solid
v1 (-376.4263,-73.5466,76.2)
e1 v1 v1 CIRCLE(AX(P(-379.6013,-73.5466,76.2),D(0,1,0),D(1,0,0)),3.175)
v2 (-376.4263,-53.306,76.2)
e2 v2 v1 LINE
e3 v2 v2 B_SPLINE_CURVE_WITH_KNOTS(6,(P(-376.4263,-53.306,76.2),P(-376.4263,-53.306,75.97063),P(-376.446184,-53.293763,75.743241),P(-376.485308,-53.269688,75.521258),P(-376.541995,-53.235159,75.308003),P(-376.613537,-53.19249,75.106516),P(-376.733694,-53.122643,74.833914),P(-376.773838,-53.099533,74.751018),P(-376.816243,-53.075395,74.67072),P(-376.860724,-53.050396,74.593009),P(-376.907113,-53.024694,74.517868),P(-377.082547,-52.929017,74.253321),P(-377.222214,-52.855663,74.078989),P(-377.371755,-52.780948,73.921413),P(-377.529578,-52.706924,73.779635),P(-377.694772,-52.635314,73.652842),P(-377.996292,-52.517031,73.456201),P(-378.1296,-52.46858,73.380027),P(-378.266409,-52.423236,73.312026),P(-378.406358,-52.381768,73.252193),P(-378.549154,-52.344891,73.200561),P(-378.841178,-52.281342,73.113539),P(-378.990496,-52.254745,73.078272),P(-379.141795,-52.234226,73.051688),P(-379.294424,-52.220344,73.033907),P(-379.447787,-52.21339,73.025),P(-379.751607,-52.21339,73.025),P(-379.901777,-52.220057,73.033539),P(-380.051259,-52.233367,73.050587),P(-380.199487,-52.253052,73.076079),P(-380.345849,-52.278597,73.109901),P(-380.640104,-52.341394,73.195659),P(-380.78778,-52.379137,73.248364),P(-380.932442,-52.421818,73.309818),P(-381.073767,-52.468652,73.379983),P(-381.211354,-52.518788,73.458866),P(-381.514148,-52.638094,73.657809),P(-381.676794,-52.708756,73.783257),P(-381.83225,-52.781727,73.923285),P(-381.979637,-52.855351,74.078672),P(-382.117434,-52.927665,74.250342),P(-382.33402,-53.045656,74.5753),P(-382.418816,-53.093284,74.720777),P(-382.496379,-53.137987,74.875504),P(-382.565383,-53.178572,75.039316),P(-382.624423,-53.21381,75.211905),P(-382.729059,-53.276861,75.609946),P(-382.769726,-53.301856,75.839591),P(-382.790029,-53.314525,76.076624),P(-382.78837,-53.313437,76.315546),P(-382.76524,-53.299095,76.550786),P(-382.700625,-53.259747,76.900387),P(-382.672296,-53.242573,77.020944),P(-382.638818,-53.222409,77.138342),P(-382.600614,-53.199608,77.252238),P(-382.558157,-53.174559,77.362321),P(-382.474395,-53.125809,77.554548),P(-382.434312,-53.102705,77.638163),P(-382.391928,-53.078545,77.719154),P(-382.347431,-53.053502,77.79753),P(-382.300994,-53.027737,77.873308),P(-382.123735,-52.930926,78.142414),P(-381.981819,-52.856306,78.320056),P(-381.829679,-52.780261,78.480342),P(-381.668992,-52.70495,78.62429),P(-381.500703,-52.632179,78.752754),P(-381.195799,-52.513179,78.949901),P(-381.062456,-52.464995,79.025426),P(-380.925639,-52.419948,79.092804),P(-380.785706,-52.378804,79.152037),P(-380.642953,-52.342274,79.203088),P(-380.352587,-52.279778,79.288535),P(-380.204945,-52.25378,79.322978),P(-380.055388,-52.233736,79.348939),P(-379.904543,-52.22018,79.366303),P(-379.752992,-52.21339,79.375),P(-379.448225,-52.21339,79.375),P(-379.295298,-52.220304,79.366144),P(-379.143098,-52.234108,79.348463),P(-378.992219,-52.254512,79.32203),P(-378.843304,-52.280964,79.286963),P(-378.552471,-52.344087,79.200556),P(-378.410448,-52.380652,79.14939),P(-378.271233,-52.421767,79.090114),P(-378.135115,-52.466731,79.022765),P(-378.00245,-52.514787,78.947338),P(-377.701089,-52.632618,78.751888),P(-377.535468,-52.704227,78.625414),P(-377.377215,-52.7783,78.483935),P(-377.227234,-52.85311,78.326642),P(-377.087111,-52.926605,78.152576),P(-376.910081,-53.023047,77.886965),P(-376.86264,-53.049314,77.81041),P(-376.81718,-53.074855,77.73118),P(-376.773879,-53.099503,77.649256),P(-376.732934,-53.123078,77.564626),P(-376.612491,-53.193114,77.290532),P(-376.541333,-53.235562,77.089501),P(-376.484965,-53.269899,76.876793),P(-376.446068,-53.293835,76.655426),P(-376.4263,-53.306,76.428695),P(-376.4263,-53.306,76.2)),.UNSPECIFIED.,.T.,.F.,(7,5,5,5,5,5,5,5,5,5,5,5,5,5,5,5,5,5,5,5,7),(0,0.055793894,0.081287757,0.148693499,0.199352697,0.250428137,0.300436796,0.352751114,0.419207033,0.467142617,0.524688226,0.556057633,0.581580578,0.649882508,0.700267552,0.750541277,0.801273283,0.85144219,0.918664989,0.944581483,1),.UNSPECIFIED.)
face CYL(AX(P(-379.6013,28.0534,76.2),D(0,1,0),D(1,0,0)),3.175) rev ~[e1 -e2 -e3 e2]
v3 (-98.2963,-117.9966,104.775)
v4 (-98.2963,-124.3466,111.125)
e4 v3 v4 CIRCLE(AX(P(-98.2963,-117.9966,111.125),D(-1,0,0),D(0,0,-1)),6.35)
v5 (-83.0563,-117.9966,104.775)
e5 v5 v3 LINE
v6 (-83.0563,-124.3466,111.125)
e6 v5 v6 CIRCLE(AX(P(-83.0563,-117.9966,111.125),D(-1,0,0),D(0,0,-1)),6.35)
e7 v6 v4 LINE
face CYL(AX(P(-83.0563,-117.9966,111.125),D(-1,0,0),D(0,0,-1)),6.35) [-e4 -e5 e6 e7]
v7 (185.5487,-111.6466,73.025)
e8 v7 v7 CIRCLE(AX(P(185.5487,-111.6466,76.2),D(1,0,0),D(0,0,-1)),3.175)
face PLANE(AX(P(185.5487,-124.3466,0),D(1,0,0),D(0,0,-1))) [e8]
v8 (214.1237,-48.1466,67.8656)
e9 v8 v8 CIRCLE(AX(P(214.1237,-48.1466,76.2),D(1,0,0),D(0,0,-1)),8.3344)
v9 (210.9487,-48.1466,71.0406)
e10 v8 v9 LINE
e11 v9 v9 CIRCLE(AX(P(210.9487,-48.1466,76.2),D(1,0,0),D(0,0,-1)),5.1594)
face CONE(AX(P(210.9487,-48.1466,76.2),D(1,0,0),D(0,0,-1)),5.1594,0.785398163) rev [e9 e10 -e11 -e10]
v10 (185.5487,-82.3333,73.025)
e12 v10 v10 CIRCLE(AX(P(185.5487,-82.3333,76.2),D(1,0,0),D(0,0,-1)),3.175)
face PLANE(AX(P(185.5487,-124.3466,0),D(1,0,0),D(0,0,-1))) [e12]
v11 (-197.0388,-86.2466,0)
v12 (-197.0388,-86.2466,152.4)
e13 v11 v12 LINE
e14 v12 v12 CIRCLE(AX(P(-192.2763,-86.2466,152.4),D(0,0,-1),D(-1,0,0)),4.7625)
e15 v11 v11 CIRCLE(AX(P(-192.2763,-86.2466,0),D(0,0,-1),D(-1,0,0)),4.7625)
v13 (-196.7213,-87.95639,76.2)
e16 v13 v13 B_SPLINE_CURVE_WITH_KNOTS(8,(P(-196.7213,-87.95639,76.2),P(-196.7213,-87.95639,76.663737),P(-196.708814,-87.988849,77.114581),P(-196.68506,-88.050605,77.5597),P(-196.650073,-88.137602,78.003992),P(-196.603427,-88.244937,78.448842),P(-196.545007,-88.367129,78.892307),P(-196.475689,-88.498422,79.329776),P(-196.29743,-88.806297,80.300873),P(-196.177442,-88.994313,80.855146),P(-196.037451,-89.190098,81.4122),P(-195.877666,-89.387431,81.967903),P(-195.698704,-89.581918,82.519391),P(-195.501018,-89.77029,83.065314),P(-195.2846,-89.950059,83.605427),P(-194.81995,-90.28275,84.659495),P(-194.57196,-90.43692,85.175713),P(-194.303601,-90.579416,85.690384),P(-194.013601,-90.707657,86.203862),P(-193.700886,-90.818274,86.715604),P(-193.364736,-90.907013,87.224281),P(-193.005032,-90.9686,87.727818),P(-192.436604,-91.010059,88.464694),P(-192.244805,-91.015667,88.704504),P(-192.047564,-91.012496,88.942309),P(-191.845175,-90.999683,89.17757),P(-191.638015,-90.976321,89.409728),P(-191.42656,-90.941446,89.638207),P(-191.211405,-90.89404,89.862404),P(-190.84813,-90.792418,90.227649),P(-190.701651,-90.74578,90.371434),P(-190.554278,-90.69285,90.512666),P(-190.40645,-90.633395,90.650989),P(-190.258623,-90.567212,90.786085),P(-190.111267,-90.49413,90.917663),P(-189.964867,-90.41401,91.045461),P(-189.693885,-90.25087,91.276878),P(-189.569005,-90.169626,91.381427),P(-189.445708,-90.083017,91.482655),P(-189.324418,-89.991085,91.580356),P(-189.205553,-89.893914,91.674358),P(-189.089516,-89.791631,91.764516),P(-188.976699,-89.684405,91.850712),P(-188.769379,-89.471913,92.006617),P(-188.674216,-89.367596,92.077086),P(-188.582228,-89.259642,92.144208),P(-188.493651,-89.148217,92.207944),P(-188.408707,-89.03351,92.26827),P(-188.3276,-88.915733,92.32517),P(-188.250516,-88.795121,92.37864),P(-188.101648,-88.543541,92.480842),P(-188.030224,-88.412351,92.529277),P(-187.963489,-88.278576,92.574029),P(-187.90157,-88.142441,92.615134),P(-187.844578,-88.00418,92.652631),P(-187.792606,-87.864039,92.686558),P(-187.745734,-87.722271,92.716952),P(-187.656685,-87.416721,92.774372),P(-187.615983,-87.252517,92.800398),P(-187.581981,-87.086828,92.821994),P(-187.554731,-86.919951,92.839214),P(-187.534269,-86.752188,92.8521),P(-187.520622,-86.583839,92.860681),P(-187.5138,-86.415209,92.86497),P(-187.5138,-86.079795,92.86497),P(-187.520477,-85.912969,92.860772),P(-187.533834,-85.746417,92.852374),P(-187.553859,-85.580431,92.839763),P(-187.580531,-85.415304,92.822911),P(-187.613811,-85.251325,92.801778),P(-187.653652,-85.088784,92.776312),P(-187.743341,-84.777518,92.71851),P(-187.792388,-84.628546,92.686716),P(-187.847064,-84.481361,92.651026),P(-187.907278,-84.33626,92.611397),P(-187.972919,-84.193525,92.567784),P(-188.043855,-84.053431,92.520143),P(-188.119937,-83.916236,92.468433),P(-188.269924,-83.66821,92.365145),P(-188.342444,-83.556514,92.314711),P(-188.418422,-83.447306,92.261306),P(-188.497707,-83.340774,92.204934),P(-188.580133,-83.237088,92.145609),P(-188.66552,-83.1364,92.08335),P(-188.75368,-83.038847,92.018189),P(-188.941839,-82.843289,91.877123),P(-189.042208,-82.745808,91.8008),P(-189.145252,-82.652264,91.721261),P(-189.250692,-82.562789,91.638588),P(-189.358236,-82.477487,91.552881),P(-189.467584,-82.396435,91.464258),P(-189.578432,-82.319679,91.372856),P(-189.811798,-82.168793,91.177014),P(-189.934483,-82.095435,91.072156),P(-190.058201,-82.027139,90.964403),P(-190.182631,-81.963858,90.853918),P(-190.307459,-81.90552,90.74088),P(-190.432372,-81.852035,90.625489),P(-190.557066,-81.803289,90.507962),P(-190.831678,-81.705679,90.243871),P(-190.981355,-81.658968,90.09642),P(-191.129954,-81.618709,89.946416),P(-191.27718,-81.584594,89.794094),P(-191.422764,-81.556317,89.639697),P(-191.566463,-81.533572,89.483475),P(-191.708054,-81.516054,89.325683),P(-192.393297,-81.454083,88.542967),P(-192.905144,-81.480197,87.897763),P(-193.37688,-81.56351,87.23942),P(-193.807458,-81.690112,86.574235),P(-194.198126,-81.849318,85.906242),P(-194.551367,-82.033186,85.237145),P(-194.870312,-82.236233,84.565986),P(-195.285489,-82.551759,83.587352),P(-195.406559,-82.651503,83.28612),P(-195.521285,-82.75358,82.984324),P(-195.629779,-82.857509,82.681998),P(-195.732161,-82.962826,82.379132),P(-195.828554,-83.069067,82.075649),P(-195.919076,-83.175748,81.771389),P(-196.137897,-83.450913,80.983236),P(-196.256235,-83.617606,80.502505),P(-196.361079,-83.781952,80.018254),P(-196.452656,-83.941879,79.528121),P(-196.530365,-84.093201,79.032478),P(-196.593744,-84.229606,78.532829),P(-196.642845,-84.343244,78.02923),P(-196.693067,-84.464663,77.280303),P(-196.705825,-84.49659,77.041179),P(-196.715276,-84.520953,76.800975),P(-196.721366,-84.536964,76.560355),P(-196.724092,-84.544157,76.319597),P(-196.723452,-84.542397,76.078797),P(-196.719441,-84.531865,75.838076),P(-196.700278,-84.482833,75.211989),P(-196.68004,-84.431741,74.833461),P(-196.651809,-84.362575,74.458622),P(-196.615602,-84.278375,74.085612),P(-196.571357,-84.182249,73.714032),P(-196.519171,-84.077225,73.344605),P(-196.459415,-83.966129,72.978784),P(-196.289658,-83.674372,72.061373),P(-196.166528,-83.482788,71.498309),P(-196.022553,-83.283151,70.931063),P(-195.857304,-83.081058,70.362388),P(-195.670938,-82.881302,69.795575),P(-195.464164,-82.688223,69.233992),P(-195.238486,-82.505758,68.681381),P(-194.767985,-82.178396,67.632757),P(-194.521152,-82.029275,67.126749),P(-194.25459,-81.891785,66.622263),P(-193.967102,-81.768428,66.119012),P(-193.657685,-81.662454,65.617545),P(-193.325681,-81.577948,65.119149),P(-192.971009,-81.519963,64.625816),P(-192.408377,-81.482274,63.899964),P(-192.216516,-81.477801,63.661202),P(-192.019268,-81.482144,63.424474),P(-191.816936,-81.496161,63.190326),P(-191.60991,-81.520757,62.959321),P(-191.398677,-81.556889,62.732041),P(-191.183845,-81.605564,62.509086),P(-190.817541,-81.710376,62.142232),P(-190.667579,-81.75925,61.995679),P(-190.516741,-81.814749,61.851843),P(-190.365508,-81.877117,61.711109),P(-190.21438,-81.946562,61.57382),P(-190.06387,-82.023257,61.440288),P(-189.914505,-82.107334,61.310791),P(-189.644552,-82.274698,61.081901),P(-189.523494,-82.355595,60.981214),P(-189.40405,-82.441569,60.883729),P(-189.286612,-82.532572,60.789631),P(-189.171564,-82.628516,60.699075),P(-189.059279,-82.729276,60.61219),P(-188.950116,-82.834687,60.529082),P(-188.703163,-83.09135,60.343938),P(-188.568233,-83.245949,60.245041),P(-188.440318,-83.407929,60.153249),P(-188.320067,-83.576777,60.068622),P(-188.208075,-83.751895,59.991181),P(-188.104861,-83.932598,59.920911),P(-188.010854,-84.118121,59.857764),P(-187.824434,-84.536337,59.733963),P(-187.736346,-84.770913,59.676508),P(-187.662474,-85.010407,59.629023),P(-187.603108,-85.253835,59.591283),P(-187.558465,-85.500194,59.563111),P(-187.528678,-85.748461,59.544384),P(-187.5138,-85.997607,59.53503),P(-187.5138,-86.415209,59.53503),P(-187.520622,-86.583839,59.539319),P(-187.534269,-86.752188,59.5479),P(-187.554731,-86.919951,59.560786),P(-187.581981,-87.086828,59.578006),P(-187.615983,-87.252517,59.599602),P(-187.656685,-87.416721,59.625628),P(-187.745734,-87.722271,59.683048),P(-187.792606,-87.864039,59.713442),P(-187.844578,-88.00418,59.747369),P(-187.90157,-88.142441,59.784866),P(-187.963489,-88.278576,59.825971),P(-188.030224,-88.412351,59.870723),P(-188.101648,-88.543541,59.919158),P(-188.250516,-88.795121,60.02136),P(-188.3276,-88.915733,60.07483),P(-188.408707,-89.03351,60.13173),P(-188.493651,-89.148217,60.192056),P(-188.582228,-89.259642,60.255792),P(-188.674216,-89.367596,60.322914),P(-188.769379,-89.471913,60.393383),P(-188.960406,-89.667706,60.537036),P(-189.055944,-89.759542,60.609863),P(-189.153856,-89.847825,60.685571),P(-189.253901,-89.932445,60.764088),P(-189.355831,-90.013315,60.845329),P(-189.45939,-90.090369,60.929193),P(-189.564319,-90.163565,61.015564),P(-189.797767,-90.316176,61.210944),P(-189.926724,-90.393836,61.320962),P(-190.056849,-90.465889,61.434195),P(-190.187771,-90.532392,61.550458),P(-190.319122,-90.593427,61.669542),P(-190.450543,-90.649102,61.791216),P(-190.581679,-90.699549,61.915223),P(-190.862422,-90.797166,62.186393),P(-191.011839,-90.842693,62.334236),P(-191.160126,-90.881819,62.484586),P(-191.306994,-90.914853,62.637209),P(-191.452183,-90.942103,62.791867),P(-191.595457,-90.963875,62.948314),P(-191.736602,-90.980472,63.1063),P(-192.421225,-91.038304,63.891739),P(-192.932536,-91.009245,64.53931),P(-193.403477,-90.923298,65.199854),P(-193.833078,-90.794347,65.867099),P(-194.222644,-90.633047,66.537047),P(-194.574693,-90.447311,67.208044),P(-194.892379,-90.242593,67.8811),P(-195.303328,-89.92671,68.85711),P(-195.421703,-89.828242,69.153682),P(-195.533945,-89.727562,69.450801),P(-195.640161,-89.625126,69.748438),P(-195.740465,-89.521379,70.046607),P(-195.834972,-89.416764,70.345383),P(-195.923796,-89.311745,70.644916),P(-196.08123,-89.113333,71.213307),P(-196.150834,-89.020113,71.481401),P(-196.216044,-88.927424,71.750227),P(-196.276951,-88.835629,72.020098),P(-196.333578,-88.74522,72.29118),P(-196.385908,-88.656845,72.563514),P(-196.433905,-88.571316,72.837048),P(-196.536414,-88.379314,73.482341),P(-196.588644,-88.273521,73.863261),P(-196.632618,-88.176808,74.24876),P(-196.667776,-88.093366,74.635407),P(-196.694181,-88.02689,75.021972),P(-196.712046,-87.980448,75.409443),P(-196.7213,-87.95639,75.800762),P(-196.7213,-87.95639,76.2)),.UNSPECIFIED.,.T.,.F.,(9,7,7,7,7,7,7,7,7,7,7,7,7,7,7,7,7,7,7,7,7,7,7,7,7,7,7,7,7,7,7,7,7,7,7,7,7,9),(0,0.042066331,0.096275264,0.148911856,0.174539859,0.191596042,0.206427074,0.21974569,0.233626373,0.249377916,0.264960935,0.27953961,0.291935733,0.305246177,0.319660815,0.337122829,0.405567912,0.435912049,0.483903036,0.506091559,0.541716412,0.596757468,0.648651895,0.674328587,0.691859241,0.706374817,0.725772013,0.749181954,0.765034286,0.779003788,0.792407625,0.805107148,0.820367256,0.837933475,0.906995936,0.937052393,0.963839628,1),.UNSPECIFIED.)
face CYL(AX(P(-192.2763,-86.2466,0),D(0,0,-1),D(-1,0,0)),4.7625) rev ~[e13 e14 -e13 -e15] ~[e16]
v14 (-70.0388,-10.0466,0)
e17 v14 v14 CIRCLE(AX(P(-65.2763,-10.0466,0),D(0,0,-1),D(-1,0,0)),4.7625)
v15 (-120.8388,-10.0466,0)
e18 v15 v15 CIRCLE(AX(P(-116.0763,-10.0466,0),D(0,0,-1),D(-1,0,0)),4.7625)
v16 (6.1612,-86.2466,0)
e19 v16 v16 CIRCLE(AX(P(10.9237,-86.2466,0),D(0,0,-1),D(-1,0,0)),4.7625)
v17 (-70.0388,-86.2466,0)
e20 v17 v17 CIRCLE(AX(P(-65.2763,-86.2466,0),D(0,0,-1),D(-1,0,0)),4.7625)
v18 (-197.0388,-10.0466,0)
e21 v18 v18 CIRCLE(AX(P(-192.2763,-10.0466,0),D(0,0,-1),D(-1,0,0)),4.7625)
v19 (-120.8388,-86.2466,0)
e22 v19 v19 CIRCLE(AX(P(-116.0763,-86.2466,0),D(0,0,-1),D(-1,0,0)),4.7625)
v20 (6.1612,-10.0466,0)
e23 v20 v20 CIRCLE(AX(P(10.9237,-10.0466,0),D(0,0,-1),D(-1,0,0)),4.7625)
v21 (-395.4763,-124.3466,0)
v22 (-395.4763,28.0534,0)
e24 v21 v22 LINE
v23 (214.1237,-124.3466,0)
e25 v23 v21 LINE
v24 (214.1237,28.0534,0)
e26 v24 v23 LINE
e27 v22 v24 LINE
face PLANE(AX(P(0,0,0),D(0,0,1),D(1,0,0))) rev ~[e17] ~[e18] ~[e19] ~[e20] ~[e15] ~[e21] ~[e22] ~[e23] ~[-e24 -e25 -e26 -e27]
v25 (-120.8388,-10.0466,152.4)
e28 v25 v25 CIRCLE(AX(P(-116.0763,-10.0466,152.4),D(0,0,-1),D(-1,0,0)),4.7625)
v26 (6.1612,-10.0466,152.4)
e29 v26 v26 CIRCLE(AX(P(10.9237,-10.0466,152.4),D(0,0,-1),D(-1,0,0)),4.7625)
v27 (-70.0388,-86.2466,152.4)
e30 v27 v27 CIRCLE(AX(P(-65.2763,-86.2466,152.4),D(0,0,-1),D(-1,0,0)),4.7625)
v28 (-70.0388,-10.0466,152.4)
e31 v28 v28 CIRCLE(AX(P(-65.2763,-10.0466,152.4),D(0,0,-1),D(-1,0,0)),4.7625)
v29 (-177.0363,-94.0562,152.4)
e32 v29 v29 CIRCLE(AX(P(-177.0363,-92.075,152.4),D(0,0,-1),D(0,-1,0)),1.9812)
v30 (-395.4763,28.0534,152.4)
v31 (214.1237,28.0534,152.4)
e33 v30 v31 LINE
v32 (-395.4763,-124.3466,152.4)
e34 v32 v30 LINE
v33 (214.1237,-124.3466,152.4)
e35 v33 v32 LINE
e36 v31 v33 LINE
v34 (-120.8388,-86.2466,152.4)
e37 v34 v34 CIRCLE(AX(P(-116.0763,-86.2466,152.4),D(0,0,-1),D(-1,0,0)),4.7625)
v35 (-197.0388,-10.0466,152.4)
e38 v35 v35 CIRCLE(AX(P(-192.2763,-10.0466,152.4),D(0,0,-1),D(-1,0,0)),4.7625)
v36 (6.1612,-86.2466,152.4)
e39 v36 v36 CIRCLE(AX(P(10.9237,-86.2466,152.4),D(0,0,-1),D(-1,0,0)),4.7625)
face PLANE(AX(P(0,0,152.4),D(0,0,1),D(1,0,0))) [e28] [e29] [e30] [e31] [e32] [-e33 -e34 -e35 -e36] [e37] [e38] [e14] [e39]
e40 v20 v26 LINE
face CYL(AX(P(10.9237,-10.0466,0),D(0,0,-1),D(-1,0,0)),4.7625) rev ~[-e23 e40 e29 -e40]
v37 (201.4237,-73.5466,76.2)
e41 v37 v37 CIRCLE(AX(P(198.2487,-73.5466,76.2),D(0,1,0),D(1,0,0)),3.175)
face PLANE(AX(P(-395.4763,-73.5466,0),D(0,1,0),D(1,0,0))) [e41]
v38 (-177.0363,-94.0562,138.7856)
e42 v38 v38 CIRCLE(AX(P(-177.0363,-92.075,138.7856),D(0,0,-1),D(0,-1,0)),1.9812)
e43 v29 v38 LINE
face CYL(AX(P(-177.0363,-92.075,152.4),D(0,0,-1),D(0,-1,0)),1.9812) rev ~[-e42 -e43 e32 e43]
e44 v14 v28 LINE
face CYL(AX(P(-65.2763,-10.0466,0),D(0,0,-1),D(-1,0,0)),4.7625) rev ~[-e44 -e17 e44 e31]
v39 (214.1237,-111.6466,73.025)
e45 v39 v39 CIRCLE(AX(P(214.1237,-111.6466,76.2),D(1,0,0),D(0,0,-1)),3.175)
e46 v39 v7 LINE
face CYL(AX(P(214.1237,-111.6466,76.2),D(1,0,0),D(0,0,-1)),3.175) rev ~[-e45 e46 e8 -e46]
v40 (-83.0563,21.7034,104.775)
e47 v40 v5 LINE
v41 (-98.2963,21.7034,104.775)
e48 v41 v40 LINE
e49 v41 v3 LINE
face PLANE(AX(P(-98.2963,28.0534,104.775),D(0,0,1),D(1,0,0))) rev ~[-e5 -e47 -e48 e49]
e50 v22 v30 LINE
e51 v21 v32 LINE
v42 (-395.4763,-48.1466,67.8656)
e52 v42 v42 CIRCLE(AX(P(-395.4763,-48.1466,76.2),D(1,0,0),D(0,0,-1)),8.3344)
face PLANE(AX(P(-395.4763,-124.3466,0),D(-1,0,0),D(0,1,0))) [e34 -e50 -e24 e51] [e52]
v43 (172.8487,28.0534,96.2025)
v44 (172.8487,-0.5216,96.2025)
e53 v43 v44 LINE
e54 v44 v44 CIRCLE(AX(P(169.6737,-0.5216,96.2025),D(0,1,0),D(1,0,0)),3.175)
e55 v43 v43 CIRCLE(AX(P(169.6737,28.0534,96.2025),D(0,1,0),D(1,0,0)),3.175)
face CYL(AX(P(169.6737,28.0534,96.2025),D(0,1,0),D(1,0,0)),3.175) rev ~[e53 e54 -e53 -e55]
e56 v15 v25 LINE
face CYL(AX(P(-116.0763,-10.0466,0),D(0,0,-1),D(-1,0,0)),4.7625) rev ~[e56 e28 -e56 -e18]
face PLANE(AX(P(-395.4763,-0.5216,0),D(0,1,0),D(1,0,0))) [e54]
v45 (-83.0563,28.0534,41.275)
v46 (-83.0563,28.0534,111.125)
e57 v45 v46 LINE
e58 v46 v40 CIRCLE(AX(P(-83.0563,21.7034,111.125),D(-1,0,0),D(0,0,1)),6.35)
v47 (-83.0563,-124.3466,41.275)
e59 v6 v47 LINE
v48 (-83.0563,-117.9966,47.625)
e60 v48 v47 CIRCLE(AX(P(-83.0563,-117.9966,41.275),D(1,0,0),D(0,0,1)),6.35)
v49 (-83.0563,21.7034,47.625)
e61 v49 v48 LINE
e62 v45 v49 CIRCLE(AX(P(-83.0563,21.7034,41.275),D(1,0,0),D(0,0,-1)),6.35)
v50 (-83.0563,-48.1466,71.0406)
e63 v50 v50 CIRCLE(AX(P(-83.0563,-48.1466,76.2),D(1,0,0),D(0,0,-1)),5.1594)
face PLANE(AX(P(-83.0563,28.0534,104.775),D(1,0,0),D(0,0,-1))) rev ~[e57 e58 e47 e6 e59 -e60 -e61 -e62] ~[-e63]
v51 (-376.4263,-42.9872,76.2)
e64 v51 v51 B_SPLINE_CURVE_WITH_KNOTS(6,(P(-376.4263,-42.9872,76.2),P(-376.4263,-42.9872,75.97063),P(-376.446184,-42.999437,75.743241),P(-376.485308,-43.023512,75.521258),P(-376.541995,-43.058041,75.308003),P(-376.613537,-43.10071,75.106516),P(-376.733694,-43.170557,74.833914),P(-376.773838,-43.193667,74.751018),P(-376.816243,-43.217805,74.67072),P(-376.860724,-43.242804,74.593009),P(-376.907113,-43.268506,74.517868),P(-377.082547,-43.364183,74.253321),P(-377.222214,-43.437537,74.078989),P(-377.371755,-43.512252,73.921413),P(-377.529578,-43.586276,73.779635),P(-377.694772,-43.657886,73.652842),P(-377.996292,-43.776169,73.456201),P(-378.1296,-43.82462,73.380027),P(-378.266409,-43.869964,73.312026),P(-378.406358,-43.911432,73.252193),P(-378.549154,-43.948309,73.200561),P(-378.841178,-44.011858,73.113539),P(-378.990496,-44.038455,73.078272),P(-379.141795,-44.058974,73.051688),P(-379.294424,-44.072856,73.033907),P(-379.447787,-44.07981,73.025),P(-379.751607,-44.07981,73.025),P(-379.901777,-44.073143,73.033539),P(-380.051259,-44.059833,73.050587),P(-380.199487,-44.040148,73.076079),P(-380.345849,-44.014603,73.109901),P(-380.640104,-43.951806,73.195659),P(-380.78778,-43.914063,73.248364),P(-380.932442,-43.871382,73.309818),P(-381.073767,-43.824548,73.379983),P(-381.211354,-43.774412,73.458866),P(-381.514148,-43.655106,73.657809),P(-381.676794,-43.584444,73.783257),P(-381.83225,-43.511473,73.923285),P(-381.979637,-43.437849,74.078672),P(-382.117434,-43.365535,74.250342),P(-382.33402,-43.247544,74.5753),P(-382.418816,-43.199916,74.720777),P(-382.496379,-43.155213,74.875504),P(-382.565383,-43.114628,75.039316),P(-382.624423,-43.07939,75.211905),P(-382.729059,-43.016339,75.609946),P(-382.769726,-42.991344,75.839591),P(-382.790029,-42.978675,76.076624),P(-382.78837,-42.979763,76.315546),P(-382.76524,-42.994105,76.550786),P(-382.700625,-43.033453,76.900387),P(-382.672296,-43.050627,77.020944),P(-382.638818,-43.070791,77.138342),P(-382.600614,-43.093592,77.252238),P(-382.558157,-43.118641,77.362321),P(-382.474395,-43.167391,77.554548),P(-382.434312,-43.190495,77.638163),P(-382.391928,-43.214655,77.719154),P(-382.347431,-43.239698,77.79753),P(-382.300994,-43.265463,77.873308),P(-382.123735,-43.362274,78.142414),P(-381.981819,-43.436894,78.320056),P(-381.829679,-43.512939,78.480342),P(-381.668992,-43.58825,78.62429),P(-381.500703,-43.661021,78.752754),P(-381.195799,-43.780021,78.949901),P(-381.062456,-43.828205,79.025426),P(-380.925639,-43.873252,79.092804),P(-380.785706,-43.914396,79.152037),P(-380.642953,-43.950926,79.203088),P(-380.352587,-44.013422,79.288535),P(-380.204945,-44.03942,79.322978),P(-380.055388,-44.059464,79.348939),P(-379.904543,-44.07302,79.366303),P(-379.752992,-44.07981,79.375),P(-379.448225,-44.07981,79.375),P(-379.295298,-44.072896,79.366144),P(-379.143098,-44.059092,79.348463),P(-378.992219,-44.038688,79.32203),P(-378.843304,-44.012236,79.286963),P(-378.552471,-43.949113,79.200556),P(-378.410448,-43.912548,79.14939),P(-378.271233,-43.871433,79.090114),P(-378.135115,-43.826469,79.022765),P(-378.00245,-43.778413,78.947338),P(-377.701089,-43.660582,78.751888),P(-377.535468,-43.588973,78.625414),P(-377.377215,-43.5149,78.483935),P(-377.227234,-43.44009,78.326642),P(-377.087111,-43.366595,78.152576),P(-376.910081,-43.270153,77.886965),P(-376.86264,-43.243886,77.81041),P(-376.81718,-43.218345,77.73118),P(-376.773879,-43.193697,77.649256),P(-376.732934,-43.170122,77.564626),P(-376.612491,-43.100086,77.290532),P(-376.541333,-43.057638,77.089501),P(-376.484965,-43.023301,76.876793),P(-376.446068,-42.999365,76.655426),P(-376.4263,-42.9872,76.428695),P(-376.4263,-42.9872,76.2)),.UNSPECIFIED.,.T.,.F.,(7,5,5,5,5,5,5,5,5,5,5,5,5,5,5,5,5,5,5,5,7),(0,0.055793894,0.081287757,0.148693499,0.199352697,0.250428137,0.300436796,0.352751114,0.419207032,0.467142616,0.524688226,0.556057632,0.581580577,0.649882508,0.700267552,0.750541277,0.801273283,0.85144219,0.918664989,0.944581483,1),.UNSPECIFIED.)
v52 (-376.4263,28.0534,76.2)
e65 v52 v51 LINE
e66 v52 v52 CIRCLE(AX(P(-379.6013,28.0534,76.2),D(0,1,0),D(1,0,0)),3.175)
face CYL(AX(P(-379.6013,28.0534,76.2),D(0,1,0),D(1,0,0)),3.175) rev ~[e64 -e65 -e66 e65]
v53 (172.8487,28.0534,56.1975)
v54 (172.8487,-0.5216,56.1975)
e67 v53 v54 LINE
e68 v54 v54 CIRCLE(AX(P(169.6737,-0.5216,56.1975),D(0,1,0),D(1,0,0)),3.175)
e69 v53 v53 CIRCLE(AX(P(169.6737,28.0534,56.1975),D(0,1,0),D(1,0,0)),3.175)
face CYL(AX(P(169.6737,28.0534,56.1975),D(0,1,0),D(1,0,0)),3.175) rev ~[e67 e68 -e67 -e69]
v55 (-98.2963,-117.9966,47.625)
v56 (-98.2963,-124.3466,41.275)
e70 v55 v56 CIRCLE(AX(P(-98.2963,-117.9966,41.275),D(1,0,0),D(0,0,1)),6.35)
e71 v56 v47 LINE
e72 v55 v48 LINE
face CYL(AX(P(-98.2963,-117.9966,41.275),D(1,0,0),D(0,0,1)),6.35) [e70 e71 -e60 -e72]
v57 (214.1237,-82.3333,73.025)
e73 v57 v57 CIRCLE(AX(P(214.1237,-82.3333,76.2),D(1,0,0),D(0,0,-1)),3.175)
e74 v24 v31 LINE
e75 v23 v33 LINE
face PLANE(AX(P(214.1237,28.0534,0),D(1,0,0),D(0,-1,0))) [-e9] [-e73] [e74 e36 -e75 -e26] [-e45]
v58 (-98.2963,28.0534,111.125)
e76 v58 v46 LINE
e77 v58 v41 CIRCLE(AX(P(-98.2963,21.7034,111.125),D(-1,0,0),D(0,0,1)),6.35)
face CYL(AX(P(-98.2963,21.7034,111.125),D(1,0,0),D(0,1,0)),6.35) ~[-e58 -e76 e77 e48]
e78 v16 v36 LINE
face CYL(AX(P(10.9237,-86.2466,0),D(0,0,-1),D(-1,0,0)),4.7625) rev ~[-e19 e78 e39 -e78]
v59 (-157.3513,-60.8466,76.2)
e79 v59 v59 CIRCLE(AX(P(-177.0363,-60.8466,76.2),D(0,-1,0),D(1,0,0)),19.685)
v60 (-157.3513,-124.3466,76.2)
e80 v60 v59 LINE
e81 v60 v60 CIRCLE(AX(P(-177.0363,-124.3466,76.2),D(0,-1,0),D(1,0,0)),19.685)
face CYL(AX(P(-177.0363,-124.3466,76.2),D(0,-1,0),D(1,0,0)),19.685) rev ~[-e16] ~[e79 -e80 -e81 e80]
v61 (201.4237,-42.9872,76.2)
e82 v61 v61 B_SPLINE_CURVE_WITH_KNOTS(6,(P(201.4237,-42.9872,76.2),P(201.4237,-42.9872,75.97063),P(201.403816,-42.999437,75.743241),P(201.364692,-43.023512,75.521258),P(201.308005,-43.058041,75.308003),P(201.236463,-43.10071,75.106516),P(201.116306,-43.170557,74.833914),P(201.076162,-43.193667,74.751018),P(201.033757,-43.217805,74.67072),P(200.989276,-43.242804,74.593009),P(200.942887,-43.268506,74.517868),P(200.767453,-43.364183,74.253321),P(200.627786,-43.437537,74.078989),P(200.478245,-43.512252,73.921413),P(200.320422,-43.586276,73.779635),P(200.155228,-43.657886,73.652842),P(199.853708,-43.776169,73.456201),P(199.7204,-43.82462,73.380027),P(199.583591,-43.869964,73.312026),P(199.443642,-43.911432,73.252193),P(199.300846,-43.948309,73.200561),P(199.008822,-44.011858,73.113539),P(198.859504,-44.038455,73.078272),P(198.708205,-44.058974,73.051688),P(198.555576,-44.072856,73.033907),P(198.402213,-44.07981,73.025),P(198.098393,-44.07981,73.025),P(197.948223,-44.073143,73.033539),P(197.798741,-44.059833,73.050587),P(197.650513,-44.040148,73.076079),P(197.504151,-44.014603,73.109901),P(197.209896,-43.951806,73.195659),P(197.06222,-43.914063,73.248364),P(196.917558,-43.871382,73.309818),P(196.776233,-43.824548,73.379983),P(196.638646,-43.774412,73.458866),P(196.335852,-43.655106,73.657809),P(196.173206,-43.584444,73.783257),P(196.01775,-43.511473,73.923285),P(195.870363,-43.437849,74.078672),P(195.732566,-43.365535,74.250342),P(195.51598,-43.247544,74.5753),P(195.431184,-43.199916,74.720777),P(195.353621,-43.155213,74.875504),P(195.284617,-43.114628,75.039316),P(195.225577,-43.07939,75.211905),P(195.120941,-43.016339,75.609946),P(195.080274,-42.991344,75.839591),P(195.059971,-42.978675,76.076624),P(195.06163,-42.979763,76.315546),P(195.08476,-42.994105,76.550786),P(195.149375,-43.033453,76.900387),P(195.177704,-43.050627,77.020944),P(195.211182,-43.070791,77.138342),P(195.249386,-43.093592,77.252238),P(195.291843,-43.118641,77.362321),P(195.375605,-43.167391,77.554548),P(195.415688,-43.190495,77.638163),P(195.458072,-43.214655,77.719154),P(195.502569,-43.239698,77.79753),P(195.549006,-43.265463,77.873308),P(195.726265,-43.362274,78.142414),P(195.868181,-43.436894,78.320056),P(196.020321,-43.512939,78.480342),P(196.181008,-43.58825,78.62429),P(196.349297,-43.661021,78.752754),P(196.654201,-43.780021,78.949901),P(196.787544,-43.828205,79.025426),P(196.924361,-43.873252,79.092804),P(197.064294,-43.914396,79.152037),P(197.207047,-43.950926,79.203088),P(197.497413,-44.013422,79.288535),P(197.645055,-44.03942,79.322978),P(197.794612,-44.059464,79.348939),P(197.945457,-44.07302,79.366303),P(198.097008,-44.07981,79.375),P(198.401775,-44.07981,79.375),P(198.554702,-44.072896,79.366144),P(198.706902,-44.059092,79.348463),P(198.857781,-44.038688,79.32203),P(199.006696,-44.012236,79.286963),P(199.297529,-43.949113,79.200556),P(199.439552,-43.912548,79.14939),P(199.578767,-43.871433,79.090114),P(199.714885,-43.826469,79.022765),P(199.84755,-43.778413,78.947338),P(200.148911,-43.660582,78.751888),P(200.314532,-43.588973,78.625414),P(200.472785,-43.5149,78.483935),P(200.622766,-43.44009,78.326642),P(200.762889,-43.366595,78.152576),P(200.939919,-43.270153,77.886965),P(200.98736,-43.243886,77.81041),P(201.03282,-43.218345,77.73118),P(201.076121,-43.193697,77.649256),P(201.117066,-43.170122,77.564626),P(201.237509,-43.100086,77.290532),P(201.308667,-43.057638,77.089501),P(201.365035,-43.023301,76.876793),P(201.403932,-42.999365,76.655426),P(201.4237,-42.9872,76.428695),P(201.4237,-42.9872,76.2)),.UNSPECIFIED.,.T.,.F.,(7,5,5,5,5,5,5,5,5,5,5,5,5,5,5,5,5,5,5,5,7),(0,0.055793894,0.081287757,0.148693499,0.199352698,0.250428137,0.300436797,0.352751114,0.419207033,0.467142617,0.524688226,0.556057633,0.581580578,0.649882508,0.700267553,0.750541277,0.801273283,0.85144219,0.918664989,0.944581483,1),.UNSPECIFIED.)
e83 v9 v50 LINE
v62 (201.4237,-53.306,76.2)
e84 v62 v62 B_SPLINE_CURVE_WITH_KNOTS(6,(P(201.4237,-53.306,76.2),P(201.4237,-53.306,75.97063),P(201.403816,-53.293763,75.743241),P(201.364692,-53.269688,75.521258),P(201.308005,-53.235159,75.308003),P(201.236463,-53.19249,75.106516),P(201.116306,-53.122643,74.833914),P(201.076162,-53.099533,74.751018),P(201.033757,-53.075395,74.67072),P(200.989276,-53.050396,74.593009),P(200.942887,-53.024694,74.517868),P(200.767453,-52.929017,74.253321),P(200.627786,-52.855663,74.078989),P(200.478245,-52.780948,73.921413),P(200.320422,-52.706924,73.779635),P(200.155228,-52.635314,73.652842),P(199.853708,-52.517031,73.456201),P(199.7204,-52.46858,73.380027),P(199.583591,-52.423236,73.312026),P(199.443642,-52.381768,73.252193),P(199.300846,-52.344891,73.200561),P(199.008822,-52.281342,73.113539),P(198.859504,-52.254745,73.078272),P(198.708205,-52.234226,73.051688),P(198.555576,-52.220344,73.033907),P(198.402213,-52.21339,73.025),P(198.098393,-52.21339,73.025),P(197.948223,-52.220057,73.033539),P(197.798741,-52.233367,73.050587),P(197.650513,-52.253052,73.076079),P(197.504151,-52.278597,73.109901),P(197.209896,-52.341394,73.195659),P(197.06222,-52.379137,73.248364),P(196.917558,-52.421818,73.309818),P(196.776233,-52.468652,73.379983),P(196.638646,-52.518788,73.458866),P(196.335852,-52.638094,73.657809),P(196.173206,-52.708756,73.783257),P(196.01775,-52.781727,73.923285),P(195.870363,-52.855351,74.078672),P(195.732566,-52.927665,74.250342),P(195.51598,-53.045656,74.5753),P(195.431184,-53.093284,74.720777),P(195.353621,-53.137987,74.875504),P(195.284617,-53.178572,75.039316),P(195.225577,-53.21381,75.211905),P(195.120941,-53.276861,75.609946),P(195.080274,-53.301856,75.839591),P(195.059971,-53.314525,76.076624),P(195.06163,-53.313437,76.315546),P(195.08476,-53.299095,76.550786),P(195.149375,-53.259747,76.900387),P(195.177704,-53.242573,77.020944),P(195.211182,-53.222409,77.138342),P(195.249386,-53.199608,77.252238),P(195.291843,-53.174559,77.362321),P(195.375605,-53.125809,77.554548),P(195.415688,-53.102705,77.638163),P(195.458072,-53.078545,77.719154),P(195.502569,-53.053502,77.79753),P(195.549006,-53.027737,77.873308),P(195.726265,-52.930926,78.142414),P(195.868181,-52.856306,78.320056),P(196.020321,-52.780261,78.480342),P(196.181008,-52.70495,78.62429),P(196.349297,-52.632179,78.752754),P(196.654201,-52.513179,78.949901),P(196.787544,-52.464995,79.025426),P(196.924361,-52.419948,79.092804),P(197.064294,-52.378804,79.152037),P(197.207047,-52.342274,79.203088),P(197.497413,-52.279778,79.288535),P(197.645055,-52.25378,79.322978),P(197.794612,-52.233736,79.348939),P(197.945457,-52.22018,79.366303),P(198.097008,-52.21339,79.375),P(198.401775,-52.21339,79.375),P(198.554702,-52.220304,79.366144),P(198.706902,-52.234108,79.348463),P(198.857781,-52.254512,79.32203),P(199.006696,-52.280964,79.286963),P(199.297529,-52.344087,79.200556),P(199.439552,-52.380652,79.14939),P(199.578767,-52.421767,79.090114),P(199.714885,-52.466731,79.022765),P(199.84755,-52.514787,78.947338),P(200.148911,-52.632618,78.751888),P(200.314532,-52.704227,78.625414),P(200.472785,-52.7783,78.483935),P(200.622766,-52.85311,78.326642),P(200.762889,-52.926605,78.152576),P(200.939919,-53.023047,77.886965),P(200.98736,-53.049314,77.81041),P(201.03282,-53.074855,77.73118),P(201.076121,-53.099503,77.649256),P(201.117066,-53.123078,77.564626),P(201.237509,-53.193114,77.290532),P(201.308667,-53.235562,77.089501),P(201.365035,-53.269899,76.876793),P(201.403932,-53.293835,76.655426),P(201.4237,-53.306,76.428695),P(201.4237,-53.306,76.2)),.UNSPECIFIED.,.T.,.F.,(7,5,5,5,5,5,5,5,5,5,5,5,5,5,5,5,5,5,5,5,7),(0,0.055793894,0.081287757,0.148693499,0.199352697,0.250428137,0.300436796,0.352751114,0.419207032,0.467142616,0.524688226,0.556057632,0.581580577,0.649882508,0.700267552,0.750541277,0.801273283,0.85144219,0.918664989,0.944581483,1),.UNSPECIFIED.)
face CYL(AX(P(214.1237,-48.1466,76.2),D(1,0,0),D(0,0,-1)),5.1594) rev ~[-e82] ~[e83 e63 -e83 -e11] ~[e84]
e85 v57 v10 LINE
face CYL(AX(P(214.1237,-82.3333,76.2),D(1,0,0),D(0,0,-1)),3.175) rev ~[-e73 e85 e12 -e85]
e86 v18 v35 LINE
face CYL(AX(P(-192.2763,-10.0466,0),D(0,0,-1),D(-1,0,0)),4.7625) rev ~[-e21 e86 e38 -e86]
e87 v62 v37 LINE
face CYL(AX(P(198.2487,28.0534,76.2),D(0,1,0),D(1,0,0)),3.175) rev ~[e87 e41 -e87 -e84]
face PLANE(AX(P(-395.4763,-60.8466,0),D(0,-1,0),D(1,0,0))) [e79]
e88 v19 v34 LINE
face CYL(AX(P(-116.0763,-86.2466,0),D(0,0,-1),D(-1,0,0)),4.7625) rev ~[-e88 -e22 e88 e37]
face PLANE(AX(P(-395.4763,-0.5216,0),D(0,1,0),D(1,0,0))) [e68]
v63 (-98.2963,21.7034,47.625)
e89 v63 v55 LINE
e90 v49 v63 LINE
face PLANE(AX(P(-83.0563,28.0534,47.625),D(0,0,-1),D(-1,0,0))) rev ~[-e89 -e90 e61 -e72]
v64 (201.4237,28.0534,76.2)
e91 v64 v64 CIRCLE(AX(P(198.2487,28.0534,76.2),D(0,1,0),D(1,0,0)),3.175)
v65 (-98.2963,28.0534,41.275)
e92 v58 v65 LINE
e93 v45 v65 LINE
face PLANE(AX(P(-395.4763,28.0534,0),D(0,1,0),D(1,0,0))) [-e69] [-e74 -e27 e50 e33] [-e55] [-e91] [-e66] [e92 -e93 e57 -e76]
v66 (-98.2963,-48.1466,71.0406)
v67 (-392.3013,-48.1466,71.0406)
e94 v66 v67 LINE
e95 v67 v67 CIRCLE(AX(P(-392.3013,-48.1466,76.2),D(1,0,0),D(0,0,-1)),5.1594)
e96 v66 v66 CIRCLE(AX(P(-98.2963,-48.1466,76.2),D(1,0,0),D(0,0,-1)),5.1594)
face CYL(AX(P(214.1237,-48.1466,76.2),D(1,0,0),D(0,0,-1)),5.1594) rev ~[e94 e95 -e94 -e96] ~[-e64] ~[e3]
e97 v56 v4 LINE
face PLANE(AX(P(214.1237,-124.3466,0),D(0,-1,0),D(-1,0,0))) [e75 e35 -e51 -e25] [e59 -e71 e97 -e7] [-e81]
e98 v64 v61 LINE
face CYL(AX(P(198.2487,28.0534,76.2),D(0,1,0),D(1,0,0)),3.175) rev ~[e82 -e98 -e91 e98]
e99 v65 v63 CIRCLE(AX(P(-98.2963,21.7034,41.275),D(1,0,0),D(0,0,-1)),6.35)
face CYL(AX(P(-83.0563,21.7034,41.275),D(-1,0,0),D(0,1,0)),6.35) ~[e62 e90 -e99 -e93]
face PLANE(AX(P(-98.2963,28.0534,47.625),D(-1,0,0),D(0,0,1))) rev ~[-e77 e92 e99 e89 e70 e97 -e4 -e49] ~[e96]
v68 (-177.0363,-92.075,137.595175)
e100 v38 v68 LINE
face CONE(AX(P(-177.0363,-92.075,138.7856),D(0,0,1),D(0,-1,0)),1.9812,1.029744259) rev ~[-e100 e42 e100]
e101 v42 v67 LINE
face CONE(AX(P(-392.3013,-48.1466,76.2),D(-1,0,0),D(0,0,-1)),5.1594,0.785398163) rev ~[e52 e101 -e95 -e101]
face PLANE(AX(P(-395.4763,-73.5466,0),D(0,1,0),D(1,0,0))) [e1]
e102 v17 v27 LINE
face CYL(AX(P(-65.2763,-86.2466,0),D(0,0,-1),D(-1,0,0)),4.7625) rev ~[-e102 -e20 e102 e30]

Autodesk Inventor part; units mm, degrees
ref_plane "YZ Plane" through (0, 0, 0) normal (1, 0, 0) x (0, 1, 0)
ref_plane "XZ Plane" through (0, 0, 0) normal (0, 1, 0) x (-1, 0, 0)
ref_plane "XY Plane" through (0, 0, 0) normal (0, 0, 1) x (1, 0, 0)
sketch "Sketch1" plane through (0, 0, 0) normal (0, 0, 1) x (1, 0, 0)
  line L0 (-395.4763, 28.0534) -> (214.1237, 28.0534)
  line L1 (214.1237, 28.0534) -> (214.1237, -124.3466)
  line L2 (214.1237, -124.3466) -> (-395.4763, -124.3466)
  line L3 (-395.4763, -124.3466) -> (-395.4763, 28.0534)
  line L4 (100.4888, 124.4295) -> (100.4888, 286.3545)
  line L5 (100.4888, 286.3545) -> (135.4138, 286.3545)
  line L6 (137.9237, 286.3545) -> (137.9237, 124.4295)
  line L7 (137.9237, 124.4295) -> (100.4888, 124.4295)
  point P0 (0, 0)
  dimension "d0" = 609.6
  dimension "d1" = 152.4
  dimension "d7" = 161.925
  dimension "d8" = 34.925
extrude "Extrusion1" add sketch "Sketch1" along normal blind 152.4
sketch "Sketch4" plane through (214.1237, -124.3466, 0) normal (1, 0, 0) x (0, 0, -1)
  circle A0 centre (-76.2, 76.2) radius 5.1594
  line L0 (-152.4, 0) -> (-152.4, 152.4) projected
  line L1 (0, 152.4) -> (-152.4, 152.4) projected
  point P0 (0, 124.3466)
  dimension "d1" = 152.4
  dimension "d9" = 10.3187
extrude "Extrusion2" cut sketch "Sketch4" against normal blind 609.6
sketch "Sketch5" plane through (-395.4763, 28.0534, 0) normal (0, 1, 0) x (1, 0, 0)
  line L0 (609.6, -152.4) -> (0, -152.4) projected
  line L1 (0, -152.4) -> (0, 0) projected
  line L2 (0, 0) -> (609.6, 0) projected
  line L3 (609.6, 0) -> (609.6, -152.4) projected
  line L4 (609.6, -152.4) -> (0, -152.4) projected
  line L5 (609.6, 0) -> (609.6, -152.4) projected
  line L6 (0, 0) -> (0, -152.4) projected
  line L7 (0, 0) -> (609.6, 0) projected
  line L8 (297.18, -104.775) -> (312.42, -104.775)
  line L9 (312.42, -104.775) -> (312.42, -47.625)
  line L10 (312.42, -47.625) -> (297.18, -47.625)
  line L11 (297.18, -47.625) -> (297.18, -104.775)
  line L12 (297.18, -104.775) -> (312.42, -47.625) construction
  line L13 (312.42, -104.775) -> (297.18, -47.625) construction
  point P0 (395.4763, 0)
  point P1 (297.0135, -78.1466)
  point P2 (312.2535, -78.0634)
  point P3 (312.2535, -74.3366)
  point P4 (304.8, -76.2)
  dimension "d1" = 152.4
  dimension "d48" = 15.24
  dimension "d49" = 57.15
  dimension "d50" = 47.625
  dimension "d51" = 47.625
extrude "Extrusion3" cut sketch "Sketch5" against normal blind 609.6 contours L11 L10 L9 L8
fillet "Fillet1" radius 6.35 4 edges at (-90.6763, 28.0534, 47.625) (-90.6763, 28.0534, 104.775) (-90.6763, -124.3466, 47.625) (-90.6763, -124.3466, 104.775)
chamfer "Chamfer1" distance 3.175 angle 45 1 edges at (214.1237, -48.1466, 81.3594) measured on face at (16.0037, -48.5618, 71.0574)
chamfer "Chamfer2" distance 3.175 angle 45 1 edges at (-395.4763, -48.1466, 81.3594) measured on face at (-296.4163, -48.5618, 71.0574)
sketch "Sketch6" plane through (-395.4763, 28.0534, 0) normal (0, 1, 0) x (1, 0, 0)
  line L0 (609.6, 0) -> (609.6, -152.4) projected
  line L1 (609.6, -152.4) -> (0, -152.4) projected
  line L2 (0, -152.4) -> (0, 0) projected
  line L3 (0, 0) -> (609.6, 0) projected
  line L4 (609.6, -84.5344) -> (609.6, -67.8656) projected
  line L5 (609.6, -76.2) -> (625.475, -76.2) construction
  circle A0 centre (593.725, -76.2) radius 3.175
  line L6 (0, 0) -> (0, -152.4) projected
  circle A1 centre (15.875, -76.2) radius 3.175
  line L7 (297.18, -41.275) -> (312.42, -41.275) projected
  line L8 (312.42, -111.125) -> (312.42, -41.275) projected
  line L9 (312.42, -111.125) -> (297.18, -111.125) projected
  line L10 (297.18, -41.275) -> (297.18, -111.125) projected
  point P0 (395.4763, 0)
  dimension "d1" = 152.4
  dimension "d30" = 6.35
  dimension "d34" = 6.35
extrude "Extrusion4" cut sketch "Sketch6" against normal blind 101.6 contours A0 | A1
sketch "Sketch7" plane through (-395.4763, 28.0534, 0) normal (0, 1, 0) x (1, 0, 0)
  circle A0 centre (593.725, -76.2) radius 3.175 construction
  circle A1 centre (15.875, -76.2) radius 3.175 projected
  line L0 (609.6, 0) -> (609.6, -152.4) construction
  line L1 (609.6, -152.4) -> (0, -152.4) projected
  line L2 (0, -152.4) -> (0, 0) projected
  line L3 (0, 0) -> (609.6, 0) projected
  line L4 (609.6, -152.4) -> (0, -152.4) projected
  line L5 (565.15, -152.4) -> (565.15, 0) construction
  line L6 (609.6, 0) -> (609.6, -152.4) construction
  line L7 (297.18, -41.275) -> (312.42, -41.275) projected
  line L8 (312.42, -111.125) -> (312.42, -41.275) projected
  line L9 (312.42, -111.125) -> (297.18, -111.125) projected
  line L10 (297.18, -41.275) -> (297.18, -111.125) projected
  line L11 (609.6, -76.2) -> (629.3437, -76.2) construction
  line L12 (629.3437, -56.1975) -> (609.6, -56.1975) construction
  line L13 (629.3437, -96.2025) -> (609.6, -96.2025) construction
  line L14 (609.6, -96.2025) -> (529.5756, -96.2025) construction
  line L15 (609.6, -56.1975) -> (531.5543, -56.1975) construction
  circle A2 centre (565.15, -96.2025) radius 3.175
  circle A3 centre (565.15, -56.1975) radius 3.175
  point P0 (395.4763, 0)
  dimension "d1" = 152.4
  dimension "d37" = 44.45
  dimension "d85" = 20.0025
  dimension "d86" = 40.005
  dimension "d87" = 6.35
  dimension "d88" = 6.35
  dimension "d89" = 44.45
extrude "Extrusion5" cut sketch "Sketch7" against normal blind 28.575 contours A2 | A3
sketch "Sketch9" plane through (-395.4763, -124.3466, 0) normal (0, -1, 0) x (1, 0, 0)
  line L0 (609.6, 152.4) -> (609.6, 0) projected
  line L1 (609.6, 0) -> (0, 0) projected
  line L2 (0, 0) -> (0, 152.4) projected
  line L3 (0, 152.4) -> (609.6, 152.4) projected
  line L4 (312.42, 41.275) -> (297.18, 41.275) projected
  line L5 (297.18, 111.125) -> (297.18, 41.275) projected
  line L6 (297.18, 111.125) -> (312.42, 111.125) projected
  line L7 (312.42, 41.275) -> (312.42, 111.125) projected
  line L8 (0, 76.2) -> (609.6, 76.2) construction
  circle A0 centre (218.44, 76.2) radius 19.685
  point P0 (395.4763, 0)
  dimension "d1" = 152.4
  dimension "d65" = 39.37
  dimension "d66" = 78.74
  dimension "d69" = 0
extrude "Extrusion8" cut sketch "Sketch9" against normal blind 63.5 contours A0
sketch "Sketch10" plane through (0, 0, 152.4) normal (0, 0, 1) x (1, 0, 0)
  line L0 (214.1237, 28.0534) -> (214.1237, -124.3466) projected
  line L1 (214.1237, -124.3466) -> (-395.4763, -124.3466) projected
  line L2 (-395.4763, -124.3466) -> (-395.4763, 28.0534) projected
  line L3 (-395.4763, 28.0534) -> (214.1237, 28.0534) projected
  line L4 (-157.3513, -124.3466) -> (-196.7213, -124.3466) projected
  line L5 (-157.3513, -60.8466) -> (-196.7213, -60.8466) projected
  line L6 (-157.3513, -124.3466) -> (-196.7213, -124.3466) projected
  line L7 (-157.3513, -92.075) -> (-196.7213, -92.075)
  line L8 (-177.0363, -92.075) -> (-177.0363, -60.8466)
  point P0 (0, 0)
  dimension "d1" = 152.4
  dimension "d72" = 31.2284
hole "Hole1" at (-177.0363, -92.075, 152.4) direction (0, 0, -1) diameter 3.9624 depth 13.6144 tip angle 118 thread size "10-32 UNF" class "2B" standard "ANSI Unified Screw Threads"
sketch "Sketch11" plane through (214.1237, -124.3466, 0) normal (1, 0, 0) x (0, 0, -1)
  circle A0 centre (-76.2, 12.7) radius 3.175 projected
  circle A1 centre (-76.2, 42.0133) radius 3.175 projected
  point P0 (0, 124.3466)
  dimension "d1" = 152.4
extrude "Extrusion9" cut sketch "Sketch11" against normal blind 28.575
thread "Thread7" size "1/4-20 UNC" class "2B" standard "ANSI Unified Screw Threads" full length
thread "Thread8" size "1/4-20 UNC" class "2B" standard "ANSI Unified Screw Threads" full length
sketch "Sketch12" plane through (0, 0, 0) normal (0, 0, -1) x (-1, 0, 0)
  line L0 (-214.1237, -124.3466) -> (-214.1237, 28.0534) construction
  line L1 (-214.1237, 28.0534) -> (395.4763, 28.0534) construction
  line L2 (395.4763, 28.0534) -> (395.4763, -124.3466) construction
  line L3 (395.4763, -124.3466) -> (-214.1237, -124.3466) construction
  line L4 (90.6763, 28.0534) -> (90.6763, -124.3466) construction
  line L5 (392.3013, -42.9872) -> (392.3013, -53.306) projected
  line L6 (-36.3237, -111.6466) -> (90.6763, -111.6466) construction
  line L7 (90.6763, -111.6466) -> (90.6763, 15.3534) construction
  line L8 (90.6763, 15.3534) -> (-36.3237, 15.3534) construction
  line L9 (-36.3237, 15.3534) -> (-36.3237, -111.6466) construction
  line L10 (118.2888, 15.3534) -> (-69.9987, 15.3534) construction
  line L11 (118.2888, -10.0466) -> (-69.9987, -10.0466) construction
  line L12 (65.2763, 28.0534) -> (65.2763, -124.3466) construction
  circle A0 centre (65.2763, -10.0466) radius 4.7625
  circle A1 centre (-10.9237, -10.0466) radius 4.7625
  circle A2 centre (65.2763, -86.2466) radius 4.7625
  circle A3 centre (-10.9237, -86.2466) radius 4.7625
  line L13 (63.0639, -10.0466) -> (251.3514, -10.0466) construction
  line L14 (116.0763, 28.0534) -> (116.0763, -124.3466) construction
  circle A4 centre (116.0763, -10.0466) radius 4.7625
  circle A5 centre (192.2763, -10.0466) radius 4.7625
  circle A6 centre (116.0763, -86.2466) radius 4.7625
  circle A7 centre (192.2763, -86.2466) radius 4.7625
  point P0 (0, 0)
  point P1 (181.3527, 0)
  dimension "d1" = 152.4
  dimension "d97" = 127
  dimension "d98" = 127
  dimension "d99" = 25.4
  dimension "d100" = 25.4
  dimension "d101" = 9.525
  dimension "d104" = 76.2
  dimension "d107" = 76.2
extrude "Extrusion10" cut sketch "Sketch12" against normal through all
properties part number "block"
